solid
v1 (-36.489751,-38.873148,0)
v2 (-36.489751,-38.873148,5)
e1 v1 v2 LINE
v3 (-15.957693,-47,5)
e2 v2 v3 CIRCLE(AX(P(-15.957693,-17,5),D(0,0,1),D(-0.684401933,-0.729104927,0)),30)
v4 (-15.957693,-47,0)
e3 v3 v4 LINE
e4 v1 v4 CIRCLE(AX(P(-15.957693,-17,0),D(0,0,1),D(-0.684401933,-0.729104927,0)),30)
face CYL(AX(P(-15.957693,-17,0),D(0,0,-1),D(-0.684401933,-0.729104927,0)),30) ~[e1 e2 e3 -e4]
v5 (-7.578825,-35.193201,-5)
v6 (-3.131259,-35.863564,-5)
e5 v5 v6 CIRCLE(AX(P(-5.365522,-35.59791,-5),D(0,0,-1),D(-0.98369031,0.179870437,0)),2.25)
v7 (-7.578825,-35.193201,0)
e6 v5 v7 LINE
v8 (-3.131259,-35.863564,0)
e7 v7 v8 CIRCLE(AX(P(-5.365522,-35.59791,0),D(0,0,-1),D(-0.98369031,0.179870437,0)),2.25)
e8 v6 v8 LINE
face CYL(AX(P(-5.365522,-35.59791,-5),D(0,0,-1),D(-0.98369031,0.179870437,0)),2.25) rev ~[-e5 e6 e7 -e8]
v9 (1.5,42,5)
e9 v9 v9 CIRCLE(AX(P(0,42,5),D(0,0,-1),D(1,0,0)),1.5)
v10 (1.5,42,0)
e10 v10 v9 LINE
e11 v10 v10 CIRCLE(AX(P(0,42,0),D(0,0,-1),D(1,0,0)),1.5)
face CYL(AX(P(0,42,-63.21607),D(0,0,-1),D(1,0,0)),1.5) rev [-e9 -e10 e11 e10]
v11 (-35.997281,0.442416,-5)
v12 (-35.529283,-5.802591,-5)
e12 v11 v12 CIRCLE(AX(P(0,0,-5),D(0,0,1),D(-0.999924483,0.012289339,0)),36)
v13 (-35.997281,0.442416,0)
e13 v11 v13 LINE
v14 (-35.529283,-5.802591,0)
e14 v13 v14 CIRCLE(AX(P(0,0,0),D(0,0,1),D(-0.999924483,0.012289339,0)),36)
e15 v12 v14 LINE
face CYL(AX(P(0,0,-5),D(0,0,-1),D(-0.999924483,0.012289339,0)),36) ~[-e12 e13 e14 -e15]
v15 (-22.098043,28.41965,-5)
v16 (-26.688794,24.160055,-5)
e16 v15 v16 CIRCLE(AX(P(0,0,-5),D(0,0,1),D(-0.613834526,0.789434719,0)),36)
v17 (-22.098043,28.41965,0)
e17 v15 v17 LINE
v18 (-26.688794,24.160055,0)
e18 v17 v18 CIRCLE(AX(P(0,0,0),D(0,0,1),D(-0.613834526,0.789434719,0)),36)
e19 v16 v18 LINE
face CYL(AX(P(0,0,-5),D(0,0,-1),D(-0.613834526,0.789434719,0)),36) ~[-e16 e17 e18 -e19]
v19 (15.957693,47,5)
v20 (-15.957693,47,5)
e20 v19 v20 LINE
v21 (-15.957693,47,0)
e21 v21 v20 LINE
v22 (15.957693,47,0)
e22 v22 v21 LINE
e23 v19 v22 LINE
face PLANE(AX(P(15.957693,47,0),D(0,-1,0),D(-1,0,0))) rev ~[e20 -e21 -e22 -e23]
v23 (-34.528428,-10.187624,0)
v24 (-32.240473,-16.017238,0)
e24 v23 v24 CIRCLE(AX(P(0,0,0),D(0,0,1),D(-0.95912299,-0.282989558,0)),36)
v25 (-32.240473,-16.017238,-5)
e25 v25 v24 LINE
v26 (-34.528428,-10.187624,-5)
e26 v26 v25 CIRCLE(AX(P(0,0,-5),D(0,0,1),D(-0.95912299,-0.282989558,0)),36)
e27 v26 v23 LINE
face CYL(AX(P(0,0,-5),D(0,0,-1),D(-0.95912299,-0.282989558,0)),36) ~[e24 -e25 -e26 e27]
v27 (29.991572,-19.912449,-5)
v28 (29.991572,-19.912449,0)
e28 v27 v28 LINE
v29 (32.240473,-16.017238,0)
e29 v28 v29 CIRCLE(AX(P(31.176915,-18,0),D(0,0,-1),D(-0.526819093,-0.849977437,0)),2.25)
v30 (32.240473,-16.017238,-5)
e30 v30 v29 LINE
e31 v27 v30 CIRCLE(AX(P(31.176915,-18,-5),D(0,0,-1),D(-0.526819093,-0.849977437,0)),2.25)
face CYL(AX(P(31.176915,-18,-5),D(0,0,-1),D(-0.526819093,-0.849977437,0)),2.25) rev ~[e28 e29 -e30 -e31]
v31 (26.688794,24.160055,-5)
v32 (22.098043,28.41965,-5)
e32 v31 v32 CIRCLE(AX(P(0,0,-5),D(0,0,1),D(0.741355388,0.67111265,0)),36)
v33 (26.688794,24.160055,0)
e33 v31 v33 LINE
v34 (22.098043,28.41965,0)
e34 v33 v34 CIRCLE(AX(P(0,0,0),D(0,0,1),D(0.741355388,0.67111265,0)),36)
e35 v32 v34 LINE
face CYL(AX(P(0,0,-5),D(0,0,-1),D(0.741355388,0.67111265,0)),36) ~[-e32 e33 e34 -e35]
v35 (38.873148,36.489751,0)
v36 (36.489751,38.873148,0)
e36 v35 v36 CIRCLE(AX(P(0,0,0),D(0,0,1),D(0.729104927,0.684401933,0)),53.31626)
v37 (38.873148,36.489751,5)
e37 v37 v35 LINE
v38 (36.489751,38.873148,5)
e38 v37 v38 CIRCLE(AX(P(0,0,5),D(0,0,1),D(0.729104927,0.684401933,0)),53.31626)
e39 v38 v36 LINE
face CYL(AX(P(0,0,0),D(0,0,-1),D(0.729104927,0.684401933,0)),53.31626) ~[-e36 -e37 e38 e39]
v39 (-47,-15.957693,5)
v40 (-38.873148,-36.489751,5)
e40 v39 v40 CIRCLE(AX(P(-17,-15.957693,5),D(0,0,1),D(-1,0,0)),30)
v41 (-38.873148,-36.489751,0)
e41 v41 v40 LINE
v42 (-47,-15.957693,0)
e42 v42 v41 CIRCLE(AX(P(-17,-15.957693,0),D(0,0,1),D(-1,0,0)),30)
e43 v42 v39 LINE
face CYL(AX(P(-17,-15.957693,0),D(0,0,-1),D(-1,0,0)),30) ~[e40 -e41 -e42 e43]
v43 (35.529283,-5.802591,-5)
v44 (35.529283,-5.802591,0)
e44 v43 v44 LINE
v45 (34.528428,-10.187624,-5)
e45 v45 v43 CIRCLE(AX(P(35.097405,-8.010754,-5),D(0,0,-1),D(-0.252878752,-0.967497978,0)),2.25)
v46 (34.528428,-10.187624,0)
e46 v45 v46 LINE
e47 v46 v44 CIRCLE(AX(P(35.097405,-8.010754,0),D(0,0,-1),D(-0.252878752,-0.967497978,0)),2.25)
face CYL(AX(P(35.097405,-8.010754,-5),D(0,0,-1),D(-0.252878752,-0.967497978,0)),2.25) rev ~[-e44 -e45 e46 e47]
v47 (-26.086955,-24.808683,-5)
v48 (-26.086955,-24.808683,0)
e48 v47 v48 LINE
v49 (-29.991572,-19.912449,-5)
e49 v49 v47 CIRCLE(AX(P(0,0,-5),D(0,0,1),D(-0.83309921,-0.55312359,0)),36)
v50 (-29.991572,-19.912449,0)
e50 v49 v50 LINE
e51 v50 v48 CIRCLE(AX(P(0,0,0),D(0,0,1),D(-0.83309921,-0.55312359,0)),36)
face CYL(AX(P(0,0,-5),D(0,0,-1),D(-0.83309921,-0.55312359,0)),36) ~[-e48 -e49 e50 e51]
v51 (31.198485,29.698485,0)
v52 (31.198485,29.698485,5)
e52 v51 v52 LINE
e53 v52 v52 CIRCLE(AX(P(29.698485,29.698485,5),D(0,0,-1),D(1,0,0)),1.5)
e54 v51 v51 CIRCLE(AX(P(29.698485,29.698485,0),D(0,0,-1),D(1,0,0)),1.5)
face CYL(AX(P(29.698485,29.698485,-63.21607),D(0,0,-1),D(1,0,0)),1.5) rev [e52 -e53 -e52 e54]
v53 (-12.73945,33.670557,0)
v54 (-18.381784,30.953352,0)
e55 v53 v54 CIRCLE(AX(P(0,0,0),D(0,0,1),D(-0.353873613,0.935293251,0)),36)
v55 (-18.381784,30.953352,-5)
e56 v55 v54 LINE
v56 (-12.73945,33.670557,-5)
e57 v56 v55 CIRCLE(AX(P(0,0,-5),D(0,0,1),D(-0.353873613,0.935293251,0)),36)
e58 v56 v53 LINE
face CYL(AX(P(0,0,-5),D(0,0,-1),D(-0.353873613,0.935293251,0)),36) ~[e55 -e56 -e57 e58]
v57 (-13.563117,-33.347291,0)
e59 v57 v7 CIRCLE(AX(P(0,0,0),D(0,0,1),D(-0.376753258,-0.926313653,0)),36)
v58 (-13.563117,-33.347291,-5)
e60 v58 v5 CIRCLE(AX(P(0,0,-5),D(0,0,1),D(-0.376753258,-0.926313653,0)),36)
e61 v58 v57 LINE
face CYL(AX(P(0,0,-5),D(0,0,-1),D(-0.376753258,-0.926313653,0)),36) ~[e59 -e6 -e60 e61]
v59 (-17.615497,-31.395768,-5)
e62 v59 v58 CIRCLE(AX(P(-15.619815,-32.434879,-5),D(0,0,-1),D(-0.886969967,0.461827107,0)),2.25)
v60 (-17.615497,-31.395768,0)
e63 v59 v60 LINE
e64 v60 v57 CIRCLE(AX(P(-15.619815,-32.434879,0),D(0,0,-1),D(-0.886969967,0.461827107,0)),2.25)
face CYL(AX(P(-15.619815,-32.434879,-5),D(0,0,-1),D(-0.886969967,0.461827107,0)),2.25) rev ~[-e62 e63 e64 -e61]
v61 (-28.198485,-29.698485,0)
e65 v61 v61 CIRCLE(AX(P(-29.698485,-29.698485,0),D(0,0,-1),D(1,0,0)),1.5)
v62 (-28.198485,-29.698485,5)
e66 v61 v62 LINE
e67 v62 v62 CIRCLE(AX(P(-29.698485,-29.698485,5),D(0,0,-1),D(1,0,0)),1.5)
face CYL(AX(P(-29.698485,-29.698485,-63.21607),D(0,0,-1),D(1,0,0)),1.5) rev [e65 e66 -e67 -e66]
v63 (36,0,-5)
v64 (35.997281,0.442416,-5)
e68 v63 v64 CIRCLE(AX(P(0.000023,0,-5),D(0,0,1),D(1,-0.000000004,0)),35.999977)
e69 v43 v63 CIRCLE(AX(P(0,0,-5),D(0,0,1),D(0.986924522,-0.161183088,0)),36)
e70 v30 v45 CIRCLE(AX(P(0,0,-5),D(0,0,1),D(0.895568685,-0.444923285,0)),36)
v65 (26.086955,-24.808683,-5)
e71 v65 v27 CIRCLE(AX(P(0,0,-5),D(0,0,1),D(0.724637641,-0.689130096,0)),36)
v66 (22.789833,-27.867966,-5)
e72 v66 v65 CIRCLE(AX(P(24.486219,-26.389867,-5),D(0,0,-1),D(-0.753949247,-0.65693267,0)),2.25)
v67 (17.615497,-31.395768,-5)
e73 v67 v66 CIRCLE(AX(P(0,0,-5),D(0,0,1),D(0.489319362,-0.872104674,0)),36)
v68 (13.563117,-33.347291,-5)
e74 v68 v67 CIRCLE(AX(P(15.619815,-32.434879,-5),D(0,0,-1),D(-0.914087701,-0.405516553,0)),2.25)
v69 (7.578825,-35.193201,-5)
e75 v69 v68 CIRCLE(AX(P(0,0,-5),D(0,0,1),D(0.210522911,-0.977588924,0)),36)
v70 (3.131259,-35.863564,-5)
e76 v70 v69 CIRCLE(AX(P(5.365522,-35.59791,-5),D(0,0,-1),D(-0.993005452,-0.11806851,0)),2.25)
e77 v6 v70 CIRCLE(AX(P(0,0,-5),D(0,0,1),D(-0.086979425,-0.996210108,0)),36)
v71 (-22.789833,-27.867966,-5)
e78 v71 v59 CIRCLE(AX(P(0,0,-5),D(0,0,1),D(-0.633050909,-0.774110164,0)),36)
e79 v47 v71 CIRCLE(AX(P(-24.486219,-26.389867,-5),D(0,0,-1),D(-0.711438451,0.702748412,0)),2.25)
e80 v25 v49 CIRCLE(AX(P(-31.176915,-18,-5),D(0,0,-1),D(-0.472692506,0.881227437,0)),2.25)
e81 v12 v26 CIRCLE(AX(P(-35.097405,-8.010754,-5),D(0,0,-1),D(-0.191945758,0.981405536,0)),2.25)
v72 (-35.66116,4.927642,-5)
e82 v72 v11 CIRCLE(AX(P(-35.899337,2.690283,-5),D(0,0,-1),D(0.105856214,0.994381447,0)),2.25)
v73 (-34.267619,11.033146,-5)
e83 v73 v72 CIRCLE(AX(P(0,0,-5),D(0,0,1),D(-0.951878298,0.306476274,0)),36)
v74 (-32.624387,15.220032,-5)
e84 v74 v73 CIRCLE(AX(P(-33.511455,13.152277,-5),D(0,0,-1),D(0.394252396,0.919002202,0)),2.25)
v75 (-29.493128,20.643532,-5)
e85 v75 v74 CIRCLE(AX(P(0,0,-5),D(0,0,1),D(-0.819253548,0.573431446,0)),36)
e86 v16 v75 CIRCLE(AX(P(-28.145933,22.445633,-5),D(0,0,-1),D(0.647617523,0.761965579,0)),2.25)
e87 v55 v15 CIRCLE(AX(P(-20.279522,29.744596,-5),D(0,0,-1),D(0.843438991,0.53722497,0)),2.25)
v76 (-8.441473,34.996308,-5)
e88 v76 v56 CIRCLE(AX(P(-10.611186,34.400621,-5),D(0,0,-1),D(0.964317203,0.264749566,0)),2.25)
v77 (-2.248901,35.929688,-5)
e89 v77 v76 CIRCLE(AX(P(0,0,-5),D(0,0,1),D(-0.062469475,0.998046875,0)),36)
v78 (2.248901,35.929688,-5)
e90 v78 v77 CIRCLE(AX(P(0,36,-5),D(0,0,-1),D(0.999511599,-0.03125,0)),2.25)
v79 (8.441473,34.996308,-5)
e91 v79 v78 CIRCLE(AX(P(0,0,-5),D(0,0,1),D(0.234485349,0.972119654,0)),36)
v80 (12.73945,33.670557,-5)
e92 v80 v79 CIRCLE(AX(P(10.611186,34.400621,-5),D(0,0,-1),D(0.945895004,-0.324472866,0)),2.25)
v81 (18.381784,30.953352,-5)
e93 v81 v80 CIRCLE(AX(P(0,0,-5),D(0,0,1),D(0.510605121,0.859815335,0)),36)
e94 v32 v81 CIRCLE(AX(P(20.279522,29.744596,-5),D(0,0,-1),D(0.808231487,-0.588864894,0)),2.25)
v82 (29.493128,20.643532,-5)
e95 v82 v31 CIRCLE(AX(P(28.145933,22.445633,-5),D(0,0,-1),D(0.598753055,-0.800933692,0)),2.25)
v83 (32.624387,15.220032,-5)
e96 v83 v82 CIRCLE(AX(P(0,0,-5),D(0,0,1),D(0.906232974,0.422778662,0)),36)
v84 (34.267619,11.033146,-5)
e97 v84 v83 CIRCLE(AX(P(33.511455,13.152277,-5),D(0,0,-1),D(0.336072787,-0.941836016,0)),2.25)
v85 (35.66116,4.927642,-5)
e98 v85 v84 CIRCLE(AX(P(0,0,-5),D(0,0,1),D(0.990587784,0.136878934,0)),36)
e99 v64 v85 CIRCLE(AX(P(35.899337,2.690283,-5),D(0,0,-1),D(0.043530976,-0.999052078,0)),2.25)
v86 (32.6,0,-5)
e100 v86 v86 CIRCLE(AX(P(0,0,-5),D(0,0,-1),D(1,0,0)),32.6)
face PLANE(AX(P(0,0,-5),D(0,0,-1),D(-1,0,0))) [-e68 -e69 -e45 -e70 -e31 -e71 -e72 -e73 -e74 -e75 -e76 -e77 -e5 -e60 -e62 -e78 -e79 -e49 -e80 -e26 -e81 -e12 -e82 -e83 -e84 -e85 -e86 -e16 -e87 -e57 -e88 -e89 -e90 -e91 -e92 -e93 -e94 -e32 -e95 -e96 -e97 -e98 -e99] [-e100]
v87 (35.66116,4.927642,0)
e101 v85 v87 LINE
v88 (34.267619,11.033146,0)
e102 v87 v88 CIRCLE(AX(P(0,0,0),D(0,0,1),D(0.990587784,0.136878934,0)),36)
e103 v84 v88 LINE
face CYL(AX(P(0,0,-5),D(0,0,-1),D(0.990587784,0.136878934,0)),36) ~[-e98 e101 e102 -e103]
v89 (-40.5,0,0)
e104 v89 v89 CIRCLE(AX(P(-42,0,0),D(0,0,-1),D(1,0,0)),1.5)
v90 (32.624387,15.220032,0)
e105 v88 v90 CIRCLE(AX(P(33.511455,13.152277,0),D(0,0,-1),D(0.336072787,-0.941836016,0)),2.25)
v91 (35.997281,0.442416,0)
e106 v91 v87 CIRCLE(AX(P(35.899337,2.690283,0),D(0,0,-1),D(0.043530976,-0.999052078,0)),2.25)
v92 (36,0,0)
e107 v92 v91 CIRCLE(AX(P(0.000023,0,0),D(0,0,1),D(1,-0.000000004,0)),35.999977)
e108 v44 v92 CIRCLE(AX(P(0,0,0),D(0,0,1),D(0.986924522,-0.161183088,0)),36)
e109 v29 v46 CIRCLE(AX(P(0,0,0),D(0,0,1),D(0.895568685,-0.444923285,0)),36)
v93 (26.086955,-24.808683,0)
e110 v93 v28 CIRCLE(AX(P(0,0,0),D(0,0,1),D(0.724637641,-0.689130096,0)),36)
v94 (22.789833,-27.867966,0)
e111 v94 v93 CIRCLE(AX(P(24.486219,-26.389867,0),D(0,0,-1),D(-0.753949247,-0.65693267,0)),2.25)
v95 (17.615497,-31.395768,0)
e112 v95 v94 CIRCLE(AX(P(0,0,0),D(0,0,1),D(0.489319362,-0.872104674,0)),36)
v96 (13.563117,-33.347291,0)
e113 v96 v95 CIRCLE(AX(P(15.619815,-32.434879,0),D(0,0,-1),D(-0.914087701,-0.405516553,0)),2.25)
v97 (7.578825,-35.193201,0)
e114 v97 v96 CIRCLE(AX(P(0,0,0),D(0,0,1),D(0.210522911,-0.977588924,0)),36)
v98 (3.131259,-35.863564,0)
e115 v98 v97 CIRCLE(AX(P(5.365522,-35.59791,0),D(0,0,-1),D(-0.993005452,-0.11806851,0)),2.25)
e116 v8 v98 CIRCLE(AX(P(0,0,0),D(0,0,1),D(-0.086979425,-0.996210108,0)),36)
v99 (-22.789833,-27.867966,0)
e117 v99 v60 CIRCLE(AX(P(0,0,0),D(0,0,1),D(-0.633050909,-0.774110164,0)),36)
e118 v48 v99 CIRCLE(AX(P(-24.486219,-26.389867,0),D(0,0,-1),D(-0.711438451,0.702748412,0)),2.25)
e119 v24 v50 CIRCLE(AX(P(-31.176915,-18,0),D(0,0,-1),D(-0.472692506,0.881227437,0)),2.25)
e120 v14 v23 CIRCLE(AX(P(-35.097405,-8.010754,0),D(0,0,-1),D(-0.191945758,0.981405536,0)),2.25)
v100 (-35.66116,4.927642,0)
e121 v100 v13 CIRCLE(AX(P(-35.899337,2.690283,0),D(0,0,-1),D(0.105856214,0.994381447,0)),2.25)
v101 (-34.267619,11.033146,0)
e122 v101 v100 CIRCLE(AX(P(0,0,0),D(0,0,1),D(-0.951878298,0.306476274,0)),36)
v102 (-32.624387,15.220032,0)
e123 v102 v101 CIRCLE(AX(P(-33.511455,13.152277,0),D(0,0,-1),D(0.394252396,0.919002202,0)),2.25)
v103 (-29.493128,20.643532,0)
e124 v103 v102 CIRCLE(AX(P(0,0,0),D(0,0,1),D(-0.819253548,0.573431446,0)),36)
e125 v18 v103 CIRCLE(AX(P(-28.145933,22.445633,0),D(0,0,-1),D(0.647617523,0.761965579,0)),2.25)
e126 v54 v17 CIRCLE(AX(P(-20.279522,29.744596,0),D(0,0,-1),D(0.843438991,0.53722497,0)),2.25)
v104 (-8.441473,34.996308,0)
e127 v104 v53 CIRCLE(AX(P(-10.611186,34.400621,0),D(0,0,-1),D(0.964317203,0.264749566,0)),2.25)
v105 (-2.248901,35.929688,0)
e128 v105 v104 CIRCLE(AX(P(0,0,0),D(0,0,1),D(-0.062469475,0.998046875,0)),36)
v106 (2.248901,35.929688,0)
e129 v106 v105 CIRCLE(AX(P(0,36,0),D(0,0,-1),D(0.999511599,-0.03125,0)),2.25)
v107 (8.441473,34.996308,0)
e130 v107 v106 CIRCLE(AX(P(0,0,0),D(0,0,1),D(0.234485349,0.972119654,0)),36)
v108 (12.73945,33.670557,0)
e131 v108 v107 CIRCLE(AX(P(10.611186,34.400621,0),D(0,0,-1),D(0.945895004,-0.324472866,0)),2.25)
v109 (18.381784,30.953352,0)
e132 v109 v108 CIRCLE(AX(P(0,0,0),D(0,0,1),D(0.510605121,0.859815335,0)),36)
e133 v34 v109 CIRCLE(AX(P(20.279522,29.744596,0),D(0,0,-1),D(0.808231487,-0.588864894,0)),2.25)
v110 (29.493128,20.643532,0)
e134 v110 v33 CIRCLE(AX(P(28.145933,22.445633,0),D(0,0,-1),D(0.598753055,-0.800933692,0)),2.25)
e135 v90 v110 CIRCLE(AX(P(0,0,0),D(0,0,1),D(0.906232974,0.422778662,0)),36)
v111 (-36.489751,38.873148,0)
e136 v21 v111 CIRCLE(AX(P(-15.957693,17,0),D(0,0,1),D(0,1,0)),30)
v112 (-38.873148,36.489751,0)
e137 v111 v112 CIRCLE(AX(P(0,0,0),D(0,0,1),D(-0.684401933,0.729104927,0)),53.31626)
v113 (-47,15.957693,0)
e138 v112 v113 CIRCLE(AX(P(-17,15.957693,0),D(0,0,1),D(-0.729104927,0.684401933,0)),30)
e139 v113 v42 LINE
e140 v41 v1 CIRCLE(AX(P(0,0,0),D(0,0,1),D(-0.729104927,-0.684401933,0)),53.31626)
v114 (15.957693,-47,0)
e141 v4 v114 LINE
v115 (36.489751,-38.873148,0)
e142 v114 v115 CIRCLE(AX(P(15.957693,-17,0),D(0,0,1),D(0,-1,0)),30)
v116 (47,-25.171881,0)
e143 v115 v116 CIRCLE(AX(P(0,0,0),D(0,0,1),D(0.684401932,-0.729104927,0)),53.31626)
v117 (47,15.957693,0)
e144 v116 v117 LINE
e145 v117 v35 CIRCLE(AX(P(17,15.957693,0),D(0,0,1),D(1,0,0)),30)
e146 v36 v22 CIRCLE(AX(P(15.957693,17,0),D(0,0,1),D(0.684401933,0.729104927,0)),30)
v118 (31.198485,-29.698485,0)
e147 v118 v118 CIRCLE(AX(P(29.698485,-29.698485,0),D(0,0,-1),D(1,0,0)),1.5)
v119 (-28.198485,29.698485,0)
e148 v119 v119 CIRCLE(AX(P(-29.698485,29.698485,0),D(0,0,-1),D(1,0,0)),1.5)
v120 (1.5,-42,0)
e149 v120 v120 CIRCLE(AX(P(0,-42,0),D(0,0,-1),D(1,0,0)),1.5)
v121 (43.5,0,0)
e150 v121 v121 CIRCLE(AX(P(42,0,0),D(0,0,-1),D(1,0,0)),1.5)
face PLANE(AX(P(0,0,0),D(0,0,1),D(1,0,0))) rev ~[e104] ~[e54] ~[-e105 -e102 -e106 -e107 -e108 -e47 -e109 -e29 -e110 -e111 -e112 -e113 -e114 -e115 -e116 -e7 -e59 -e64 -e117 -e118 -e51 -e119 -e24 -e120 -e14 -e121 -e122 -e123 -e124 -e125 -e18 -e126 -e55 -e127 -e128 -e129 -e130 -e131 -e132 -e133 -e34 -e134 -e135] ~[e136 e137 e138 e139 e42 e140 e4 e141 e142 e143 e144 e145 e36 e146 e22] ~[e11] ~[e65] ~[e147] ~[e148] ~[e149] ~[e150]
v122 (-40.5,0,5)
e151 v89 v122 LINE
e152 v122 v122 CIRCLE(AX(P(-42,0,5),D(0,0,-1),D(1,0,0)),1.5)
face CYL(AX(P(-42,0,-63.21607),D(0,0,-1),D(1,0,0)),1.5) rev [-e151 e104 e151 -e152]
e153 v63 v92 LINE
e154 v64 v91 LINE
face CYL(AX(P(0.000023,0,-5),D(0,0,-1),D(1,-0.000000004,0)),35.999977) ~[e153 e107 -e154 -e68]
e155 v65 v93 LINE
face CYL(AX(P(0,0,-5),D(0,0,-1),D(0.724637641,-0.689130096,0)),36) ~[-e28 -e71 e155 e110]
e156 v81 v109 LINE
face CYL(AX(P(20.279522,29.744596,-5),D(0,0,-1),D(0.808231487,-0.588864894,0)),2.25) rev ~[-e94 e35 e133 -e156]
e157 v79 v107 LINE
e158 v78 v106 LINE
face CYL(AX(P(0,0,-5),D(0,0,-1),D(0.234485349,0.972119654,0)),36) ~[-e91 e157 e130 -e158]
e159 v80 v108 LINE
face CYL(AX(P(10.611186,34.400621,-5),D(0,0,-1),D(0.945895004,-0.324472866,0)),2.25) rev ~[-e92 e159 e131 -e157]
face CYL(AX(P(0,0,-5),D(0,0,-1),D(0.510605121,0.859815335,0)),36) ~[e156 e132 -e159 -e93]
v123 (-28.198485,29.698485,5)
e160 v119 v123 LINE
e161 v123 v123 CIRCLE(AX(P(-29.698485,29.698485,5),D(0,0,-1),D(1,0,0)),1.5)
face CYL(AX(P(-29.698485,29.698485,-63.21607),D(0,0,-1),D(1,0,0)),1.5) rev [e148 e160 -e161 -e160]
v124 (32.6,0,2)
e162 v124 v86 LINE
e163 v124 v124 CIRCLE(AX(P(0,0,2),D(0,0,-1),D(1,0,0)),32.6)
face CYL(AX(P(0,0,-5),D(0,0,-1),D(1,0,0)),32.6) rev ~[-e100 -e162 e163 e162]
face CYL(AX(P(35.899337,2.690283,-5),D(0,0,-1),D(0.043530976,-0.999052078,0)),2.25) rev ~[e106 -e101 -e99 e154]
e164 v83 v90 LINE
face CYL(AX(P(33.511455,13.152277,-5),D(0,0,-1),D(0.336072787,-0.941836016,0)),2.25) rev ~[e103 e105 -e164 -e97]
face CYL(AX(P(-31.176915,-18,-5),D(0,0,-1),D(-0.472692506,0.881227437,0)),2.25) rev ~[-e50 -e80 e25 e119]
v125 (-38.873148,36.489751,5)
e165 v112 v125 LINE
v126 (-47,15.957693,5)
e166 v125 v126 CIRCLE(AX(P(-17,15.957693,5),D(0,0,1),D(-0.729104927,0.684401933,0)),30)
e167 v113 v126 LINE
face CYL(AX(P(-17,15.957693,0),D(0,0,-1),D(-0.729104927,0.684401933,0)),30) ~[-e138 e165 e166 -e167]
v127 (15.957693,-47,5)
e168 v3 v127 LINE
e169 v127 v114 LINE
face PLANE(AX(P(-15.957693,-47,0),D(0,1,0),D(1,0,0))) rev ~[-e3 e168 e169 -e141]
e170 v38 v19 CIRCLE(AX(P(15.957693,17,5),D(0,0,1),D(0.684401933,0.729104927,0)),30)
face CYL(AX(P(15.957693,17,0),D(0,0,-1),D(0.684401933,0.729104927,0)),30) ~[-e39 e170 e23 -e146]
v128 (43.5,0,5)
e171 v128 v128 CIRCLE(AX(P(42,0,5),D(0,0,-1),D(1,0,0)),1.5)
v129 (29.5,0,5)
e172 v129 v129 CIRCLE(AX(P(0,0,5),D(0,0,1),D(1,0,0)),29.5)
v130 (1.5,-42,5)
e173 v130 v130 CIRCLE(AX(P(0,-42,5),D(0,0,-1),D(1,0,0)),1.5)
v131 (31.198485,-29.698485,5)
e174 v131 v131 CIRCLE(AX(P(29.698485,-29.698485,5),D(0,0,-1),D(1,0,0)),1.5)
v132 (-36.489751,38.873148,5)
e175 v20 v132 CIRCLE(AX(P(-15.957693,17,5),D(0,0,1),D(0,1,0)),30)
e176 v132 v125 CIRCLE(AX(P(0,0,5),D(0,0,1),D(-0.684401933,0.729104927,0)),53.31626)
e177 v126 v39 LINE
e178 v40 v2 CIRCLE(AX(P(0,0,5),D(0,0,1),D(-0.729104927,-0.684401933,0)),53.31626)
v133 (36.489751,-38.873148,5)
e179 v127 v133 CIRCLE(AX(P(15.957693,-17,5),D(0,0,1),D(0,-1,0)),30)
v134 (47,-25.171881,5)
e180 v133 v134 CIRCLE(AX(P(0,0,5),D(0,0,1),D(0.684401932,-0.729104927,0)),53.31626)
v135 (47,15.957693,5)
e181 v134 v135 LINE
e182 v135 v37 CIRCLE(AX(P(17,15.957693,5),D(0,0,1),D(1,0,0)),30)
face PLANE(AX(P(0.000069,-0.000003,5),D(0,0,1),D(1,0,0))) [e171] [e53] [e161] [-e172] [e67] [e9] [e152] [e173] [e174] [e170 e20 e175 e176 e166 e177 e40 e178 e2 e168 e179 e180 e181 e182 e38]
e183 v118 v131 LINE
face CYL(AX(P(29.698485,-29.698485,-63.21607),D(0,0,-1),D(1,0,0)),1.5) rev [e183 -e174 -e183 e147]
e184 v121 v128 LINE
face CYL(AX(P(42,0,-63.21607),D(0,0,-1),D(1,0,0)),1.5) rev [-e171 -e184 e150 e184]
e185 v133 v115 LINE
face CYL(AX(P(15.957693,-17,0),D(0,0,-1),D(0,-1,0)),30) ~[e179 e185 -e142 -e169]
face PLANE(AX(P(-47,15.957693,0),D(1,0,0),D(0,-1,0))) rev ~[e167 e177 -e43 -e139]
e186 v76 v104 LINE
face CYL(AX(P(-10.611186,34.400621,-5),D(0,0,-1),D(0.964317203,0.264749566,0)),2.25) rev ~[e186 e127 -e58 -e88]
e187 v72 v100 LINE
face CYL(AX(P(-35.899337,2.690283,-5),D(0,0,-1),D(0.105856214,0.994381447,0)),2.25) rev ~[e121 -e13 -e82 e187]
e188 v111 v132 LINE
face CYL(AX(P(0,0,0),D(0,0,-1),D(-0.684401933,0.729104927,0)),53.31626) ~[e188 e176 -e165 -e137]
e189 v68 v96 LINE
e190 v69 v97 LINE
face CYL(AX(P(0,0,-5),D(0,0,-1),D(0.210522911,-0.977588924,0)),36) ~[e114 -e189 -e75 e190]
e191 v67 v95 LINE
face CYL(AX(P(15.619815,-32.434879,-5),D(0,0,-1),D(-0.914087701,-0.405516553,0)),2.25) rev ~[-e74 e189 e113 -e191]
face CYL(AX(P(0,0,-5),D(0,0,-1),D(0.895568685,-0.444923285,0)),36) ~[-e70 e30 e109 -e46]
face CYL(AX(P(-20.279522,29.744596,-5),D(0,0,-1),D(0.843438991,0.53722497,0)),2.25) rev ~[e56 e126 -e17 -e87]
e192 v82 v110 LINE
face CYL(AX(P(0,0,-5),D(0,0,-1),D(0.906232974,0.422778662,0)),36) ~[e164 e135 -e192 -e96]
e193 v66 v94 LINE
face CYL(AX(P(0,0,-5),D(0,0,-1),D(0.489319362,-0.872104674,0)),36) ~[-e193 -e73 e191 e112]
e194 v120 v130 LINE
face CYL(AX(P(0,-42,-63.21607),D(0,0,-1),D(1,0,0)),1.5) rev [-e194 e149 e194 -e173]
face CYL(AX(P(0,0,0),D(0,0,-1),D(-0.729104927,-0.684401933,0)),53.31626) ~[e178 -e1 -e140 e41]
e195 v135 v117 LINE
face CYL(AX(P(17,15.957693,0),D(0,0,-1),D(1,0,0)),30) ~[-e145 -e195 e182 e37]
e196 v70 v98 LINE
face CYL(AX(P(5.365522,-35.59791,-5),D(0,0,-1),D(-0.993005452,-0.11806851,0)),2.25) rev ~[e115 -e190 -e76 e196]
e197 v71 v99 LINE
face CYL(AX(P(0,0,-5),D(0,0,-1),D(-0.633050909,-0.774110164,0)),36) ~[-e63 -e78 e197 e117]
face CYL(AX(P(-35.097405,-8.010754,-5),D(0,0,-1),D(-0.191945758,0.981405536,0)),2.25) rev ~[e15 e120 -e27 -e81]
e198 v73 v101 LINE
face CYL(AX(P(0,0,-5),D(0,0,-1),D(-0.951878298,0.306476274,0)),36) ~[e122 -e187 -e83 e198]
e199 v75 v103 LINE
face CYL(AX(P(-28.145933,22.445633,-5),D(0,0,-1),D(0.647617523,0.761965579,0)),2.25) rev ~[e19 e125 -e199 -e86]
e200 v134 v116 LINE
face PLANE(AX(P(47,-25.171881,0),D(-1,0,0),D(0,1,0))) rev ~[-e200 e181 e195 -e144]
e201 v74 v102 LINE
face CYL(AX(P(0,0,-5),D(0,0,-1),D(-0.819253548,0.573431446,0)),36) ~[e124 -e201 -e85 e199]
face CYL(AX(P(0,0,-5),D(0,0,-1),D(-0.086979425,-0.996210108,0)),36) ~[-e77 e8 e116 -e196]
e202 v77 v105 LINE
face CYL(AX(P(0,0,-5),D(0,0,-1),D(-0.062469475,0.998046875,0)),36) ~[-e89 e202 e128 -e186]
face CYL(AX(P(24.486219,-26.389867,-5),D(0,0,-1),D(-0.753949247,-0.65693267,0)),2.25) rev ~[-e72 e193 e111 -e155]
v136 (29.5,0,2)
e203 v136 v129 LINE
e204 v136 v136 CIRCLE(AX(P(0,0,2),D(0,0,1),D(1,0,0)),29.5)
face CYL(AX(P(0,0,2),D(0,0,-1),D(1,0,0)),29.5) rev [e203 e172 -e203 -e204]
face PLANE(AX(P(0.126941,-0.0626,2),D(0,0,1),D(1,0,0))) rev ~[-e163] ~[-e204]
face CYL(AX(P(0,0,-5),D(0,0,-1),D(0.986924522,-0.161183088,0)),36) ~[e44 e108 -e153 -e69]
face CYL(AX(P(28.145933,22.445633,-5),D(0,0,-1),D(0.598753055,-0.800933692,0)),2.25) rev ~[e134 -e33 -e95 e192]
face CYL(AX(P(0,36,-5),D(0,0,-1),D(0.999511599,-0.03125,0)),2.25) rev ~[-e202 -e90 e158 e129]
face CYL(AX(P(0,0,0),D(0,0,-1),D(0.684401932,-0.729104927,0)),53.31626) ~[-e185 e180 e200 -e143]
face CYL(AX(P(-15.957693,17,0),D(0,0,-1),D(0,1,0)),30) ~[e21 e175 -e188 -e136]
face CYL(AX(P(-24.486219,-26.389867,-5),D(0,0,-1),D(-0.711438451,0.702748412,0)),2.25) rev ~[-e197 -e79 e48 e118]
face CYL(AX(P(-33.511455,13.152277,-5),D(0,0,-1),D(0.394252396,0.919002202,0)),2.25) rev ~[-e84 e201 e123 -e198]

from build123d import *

# Parameters (mm, degrees)
SKETCH1_R               = 36
BOSS_EXTRUDE1_DEPTH     = 5
BOSS_EXTRUDE2_START     = -5
BOSS_EXTRUDE2_DEPTH     = 5
BOSS_EXTRUDE3_START     = -5
BOSS_EXTRUDE3_DEPTH     = 5
BOSS_EXTRUDE4_START     = 5
SKETCH3_R               = 32.7
SKETCH3_R_2             = 32.6
BOSS_EXTRUDE4_DEPTH     = 5
CUT_EXTRUDE1_DEPTH      = 68.216069507
CUT_EXTRUDE1_DEPTH_BACK = 68.216069507
SKETCH4_R               = 32.6
BOSS_EXTRUDE5_START     = -3
SKETCH5_R               = 29.5
BOSS_EXTRUDE5_DEPTH     = 3
CUT_EXTRUDE3_DEPTH      = 68.216069507
CUT_EXTRUDE3_DEPTH_BACK = 68.216069507
SKETCH6_R               = 1.5


with BuildPart() as part:
    # Sketch1 → Boss-Extrude1 (new body)
    # profile 1 of 3: a face of its own
    with BuildSketch(Plane.XY):
        with BuildLine():
            Line((15.957693357, 47), (-15.957693357, 47))
            ThreePointArc((-15.957693357, 47), (-26.99865268, 44.894394011), (-36.489751331, 38.873147815))
            ThreePointArc((-36.489751331, 38.873147815), (-37.700288946, 37.700288946), (-38.873147815, 36.489751331))
            ThreePointArc((-38.873147815, 36.489751331), (-44.894394011, 26.99865268), (-47, 15.957693357))
            Line((-47, 15.957693357), (-47, -15.957693357))
            ThreePointArc((-47, -15.957693357), (-44.894394011, -26.99865268), (-38.873147815, -36.489751331))
            ThreePointArc((-38.873147815, -36.489751331), (-37.700288946, -37.700288946), (-36.489751331, -38.873147815))
            ThreePointArc((-36.489751331, -38.873147815), (-26.99865268, -44.894394011), (-15.957693357, -47))
            Line((-15.957693357, -47), (15.957693357, -47))
            ThreePointArc((15.957693357, -47), (26.99865268, -44.894394011), (36.489751331, -38.873147815))
            ThreePointArc((36.489751331, -38.873147815), (42.303260219, -32.45085127), (47, -25.171880606))
            Line((47, -25.171880606), (47, 15.957693357))
            ThreePointArc((47, 15.957693357), (44.894394011, 26.99865268), (38.873147815, 36.489751331))
            ThreePointArc((38.873147815, 36.489751331), (37.700288946, 37.700288946), (36.489751331, 38.873147815))
            ThreePointArc((36.489751331, 38.873147815), (26.99865268, 44.894394011), (15.957693357, 47))
        make_face()
        Circle(SKETCH1_R, mode=Mode.SUBTRACT)
    # profile 2 of 3: a face of its own
    with BuildSketch(Plane.XY):
        with BuildLine():
            ThreePointArc((35.529282793, -5.802591166), (35.882127728, -2.910826297), (36, 0))
            ThreePointArc((36, 0), (35.999320343, 0.221212273), (35.997281396, 0.442416194))
            ThreePointArc((35.997281396, 0.442416194), (33.655628155, 2.522140659), (35.661160217, 4.927641625))
            ThreePointArc((35.661160217, 4.927641625), (35.097404839, 8.010753622), (34.267618722, 11.03314584))
            ThreePointArc((34.267618722, 11.03314584), (31.416989017, 12.330259572), (32.62438706, 15.220031833))
            ThreePointArc((32.62438706, 15.220031833), (31.176914536, 18), (29.493127743, 20.64353206))
            ThreePointArc((29.493127743, 20.64353206), (26.386812533, 21.042780813), (26.688793942, 24.16005542))
            ThreePointArc((26.688793942, 24.16005542), (24.48621856, 26.389867386), (22.098042936, 28.419649864))
            ThreePointArc((22.098042936, 28.419649864), (19.01205196, 27.885558633), (18.381784361, 30.953352059))
            ThreePointArc((18.381784361, 30.953352059), (15.619814608, 32.434879244), (12.739450039, 33.67055706))
            ThreePointArc((12.739450039, 33.67055706), (9.947987136, 32.250582195), (8.441472573, 34.996307531))
            ThreePointArc((8.441472573, 34.996307531), (5.365521582, 35.597909744), (2.248901099, 35.9296875))
            ThreePointArc((2.248901099, 35.9296875), (0, 33.75), (-2.248901099, 35.9296875))
            ThreePointArc((-2.248901099, 35.9296875), (-5.365521582, 35.597909744), (-8.441472573, 34.996307531))
            ThreePointArc((-8.441472573, 34.996307531), (-9.947987136, 32.250582195), (-12.739450039, 33.67055706))
            ThreePointArc((-12.739450039, 33.67055706), (-15.619814608, 32.434879244), (-18.381784361, 30.953352059))
            ThreePointArc((-18.381784361, 30.953352059), (-19.01205196, 27.885558633), (-22.098042936, 28.419649864))
            ThreePointArc((-22.098042936, 28.419649864), (-24.48621856, 26.389867386), (-26.688793942, 24.16005542))
            ThreePointArc((-26.688793942, 24.16005542), (-26.386812533, 21.042780813), (-29.493127743, 20.64353206))
            ThreePointArc((-29.493127743, 20.64353206), (-31.176914536, 18), (-32.62438706, 15.220031833))
            ThreePointArc((-32.62438706, 15.220031833), (-31.416989017, 12.330259572), (-34.267618722, 11.03314584))
            ThreePointArc((-34.267618722, 11.03314584), (-35.097404839, 8.010753622), (-35.661160217, 4.927641625))
            ThreePointArc((-35.661160217, 4.927641625), (-33.655628155, 2.522140659), (-35.997281396, 0.442416194))
            ThreePointArc((-35.997281396, 0.442416194), (-35.899336699, -2.690283369), (-35.529282793, -5.802591166))
            ThreePointArc((-35.529282793, -5.802591166), (-32.903817036, -7.510081521), (-34.528427647, -10.187624072))
            ThreePointArc((-34.528427647, -10.187624072), (-33.511454951, -13.152276877), (-32.240472674, -16.017238268))
            ThreePointArc((-32.240472674, -16.017238268), (-29.228357378, -16.875), (-29.991571576, -19.912449232))
            ThreePointArc((-29.991571576, -19.912449232), (-28.145933369, -22.445632867), (-26.086955074, -24.808683459))
            ThreePointArc((-26.086955074, -24.808683459), (-22.9558299, -24.740500674), (-22.789832754, -27.867965894))
            ThreePointArc((-22.789832754, -27.867965894), (-20.27952209, -29.744595875), (-17.615497035, -31.395768253))
            ThreePointArc((-17.615497035, -31.395768253), (-14.643576195, -30.407699292), (-13.563117281, -33.347291489))
            ThreePointArc((-13.563117281, -33.347291489), (-10.611186279, -34.400621008), (-7.57882478, -35.19320126))
            ThreePointArc((-7.57882478, -35.19320126), (-5.030176483, -33.373040385), (-3.131259316, -35.863563893))
            ThreePointArc((-3.131259316, -35.863563893), (0, -36), (3.131259316, -35.863563893))
            ThreePointArc((3.131259316, -35.863563893), (5.030176483, -33.373040385), (7.57882478, -35.19320126))
            ThreePointArc((7.57882478, -35.19320126), (10.611186279, -34.400621008), (13.563117281, -33.347291489))
            ThreePointArc((13.563117281, -33.347291489), (14.643576195, -30.407699292), (17.615497035, -31.395768253))
            ThreePointArc((17.615497035, -31.395768253), (20.27952209, -29.744595875), (22.789832754, -27.867965894))
            ThreePointArc((22.789832754, -27.867965894), (22.9558299, -24.740500674), (26.086955074, -24.808683459))
            ThreePointArc((26.086955074, -24.808683459), (28.145933369, -22.445632867), (29.991571576, -19.912449232))
            ThreePointArc((29.991571576, -19.912449232), (29.228357378, -16.875), (32.240472674, -16.017238268))
            ThreePointArc((32.240472674, -16.017238268), (33.511454951, -13.152276877), (34.528427647, -10.187624072))
            ThreePointArc((34.528427647, -10.187624072), (32.903817036, -7.510081521), (35.529282793, -5.802591166))
        make_face()
        with BuildLine():
            ThreePointArc((-32.7, 0), (0, 32.7), (32.7, 0))
            ThreePointArc((32.7, 0), (0, -32.7), (-32.7, 0))
        make_face(mode=Mode.SUBTRACT)
    # profile 3 of 3: a face of its own
    with BuildSketch(Plane.XY):
        with BuildLine():
            ThreePointArc((32.7, 0), (0, 32.7), (-32.7, 0))
            ThreePointArc((-32.7, 0), (0, -32.7), (32.7, 0))
        make_face()
    extrude(amount=BOSS_EXTRUDE1_DEPTH)

    # Sketch1<4> → Boss-Extrude2 (add)
    with BuildSketch(Plane.XY.offset(BOSS_EXTRUDE2_START)):
        with BuildLine():
            ThreePointArc((35.529282793, -5.802591166), (35.882127728, -2.910826297), (36, 0))
            ThreePointArc((36, 0), (35.999320343, 0.221212273), (35.997281396, 0.442416194))
            ThreePointArc((35.997281396, 0.442416194), (33.655628155, 2.522140659), (35.661160217, 4.927641625))
            ThreePointArc((35.661160217, 4.927641625), (35.097404839, 8.010753622), (34.267618722, 11.03314584))
            ThreePointArc((34.267618722, 11.03314584), (31.416989017, 12.330259572), (32.62438706, 15.220031833))
            ThreePointArc((32.62438706, 15.220031833), (31.176914536, 18), (29.493127743, 20.64353206))
            ThreePointArc((29.493127743, 20.64353206), (26.386812533, 21.042780813), (26.688793942, 24.16005542))
            ThreePointArc((26.688793942, 24.16005542), (24.48621856, 26.389867386), (22.098042936, 28.419649864))
            ThreePointArc((22.098042936, 28.419649864), (19.01205196, 27.885558633), (18.381784361, 30.953352059))
            ThreePointArc((18.381784361, 30.953352059), (15.619814608, 32.434879244), (12.739450039, 33.67055706))
            ThreePointArc((12.739450039, 33.67055706), (9.947987136, 32.250582195), (8.441472573, 34.996307531))
            ThreePointArc((8.441472573, 34.996307531), (5.365521582, 35.597909744), (2.248901099, 35.9296875))
            ThreePointArc((2.248901099, 35.9296875), (0, 33.75), (-2.248901099, 35.9296875))
            ThreePointArc((-2.248901099, 35.9296875), (-5.365521582, 35.597909744), (-8.441472573, 34.996307531))
            ThreePointArc((-8.441472573, 34.996307531), (-9.947987136, 32.250582195), (-12.739450039, 33.67055706))
            ThreePointArc((-12.739450039, 33.67055706), (-15.619814608, 32.434879244), (-18.381784361, 30.953352059))
            ThreePointArc((-18.381784361, 30.953352059), (-19.01205196, 27.885558633), (-22.098042936, 28.419649864))
            ThreePointArc((-22.098042936, 28.419649864), (-24.48621856, 26.389867386), (-26.688793942, 24.16005542))
            ThreePointArc((-26.688793942, 24.16005542), (-26.386812533, 21.042780813), (-29.493127743, 20.64353206))
            ThreePointArc((-29.493127743, 20.64353206), (-31.176914536, 18), (-32.62438706, 15.220031833))
            ThreePointArc((-32.62438706, 15.220031833), (-31.416989017, 12.330259572), (-34.267618722, 11.03314584))
            ThreePointArc((-34.267618722, 11.03314584), (-35.097404839, 8.010753622), (-35.661160217, 4.927641625))
            ThreePointArc((-35.661160217, 4.927641625), (-33.655628155, 2.522140659), (-35.997281396, 0.442416194))
            ThreePointArc((-35.997281396, 0.442416194), (-35.899336699, -2.690283369), (-35.529282793, -5.802591166))
            ThreePointArc((-35.529282793, -5.802591166), (-32.903817036, -7.510081521), (-34.528427647, -10.187624072))
            ThreePointArc((-34.528427647, -10.187624072), (-33.511454951, -13.152276877), (-32.240472674, -16.017238268))
            ThreePointArc((-32.240472674, -16.017238268), (-29.228357378, -16.875), (-29.991571576, -19.912449232))
            ThreePointArc((-29.991571576, -19.912449232), (-28.145933369, -22.445632867), (-26.086955074, -24.808683459))
            ThreePointArc((-26.086955074, -24.808683459), (-22.9558299, -24.740500674), (-22.789832754, -27.867965894))
            ThreePointArc((-22.789832754, -27.867965894), (-20.27952209, -29.744595875), (-17.615497035, -31.395768253))
            ThreePointArc((-17.615497035, -31.395768253), (-14.643576195, -30.407699292), (-13.563117281, -33.347291489))
            ThreePointArc((-13.563117281, -33.347291489), (-10.611186279, -34.400621008), (-7.57882478, -35.19320126))
            ThreePointArc((-7.57882478, -35.19320126), (-5.030176483, -33.373040385), (-3.131259316, -35.863563893))
            ThreePointArc((-3.131259316, -35.863563893), (0, -36), (3.131259316, -35.863563893))
            ThreePointArc((3.131259316, -35.863563893), (5.030176483, -33.373040385), (7.57882478, -35.19320126))
            ThreePointArc((7.57882478, -35.19320126), (10.611186279, -34.400621008), (13.563117281, -33.347291489))
            ThreePointArc((13.563117281, -33.347291489), (14.643576195, -30.407699292), (17.615497035, -31.395768253))
            ThreePointArc((17.615497035, -31.395768253), (20.27952209, -29.744595875), (22.789832754, -27.867965894))
            ThreePointArc((22.789832754, -27.867965894), (22.9558299, -24.740500674), (26.086955074, -24.808683459))
            ThreePointArc((26.086955074, -24.808683459), (28.145933369, -22.445632867), (29.991571576, -19.912449232))
            ThreePointArc((29.991571576, -19.912449232), (29.228357378, -16.875), (32.240472674, -16.017238268))
            ThreePointArc((32.240472674, -16.017238268), (33.511454951, -13.152276877), (34.528427647, -10.187624072))
            ThreePointArc((34.528427647, -10.187624072), (32.903817036, -7.510081521), (35.529282793, -5.802591166))
        make_face()
        with BuildLine():
            ThreePointArc((-32.7, 0), (0, 32.7), (32.7, 0))
            ThreePointArc((32.7, 0), (0, -32.7), (-32.7, 0))
        make_face(mode=Mode.SUBTRACT)
    extrude(amount=BOSS_EXTRUDE2_DEPTH)

    # Sketch2 → Boss-Extrude3 (add)
    with BuildSketch(Plane.XY.offset(5).offset(BOSS_EXTRUDE3_START)):
        with BuildLine():
            Line((15.957693357, 47), (-15.957693357, 47))
            ThreePointArc((-15.957693357, 47), (-26.99865268, 44.894394011), (-36.489751331, 38.873147815))
            ThreePointArc((-36.489751331, 38.873147815), (-37.700288946, 37.700288946), (-38.873147815, 36.489751331))
            ThreePointArc((-38.873147815, 36.489751331), (-44.894394011, 26.99865268), (-47, 15.957693357))
            Line((-47, 15.957693357), (-47, -15.957693357))
            ThreePointArc((-47, -15.957693357), (-44.894394011, -26.99865268), (-38.873147815, -36.489751331))
            ThreePointArc((-38.873147815, -36.489751331), (-37.700288946, -37.700288946), (-36.489751331, -38.873147815))
            ThreePointArc((-36.489751331, -38.873147815), (-26.99865268, -44.894394011), (-15.957693357, -47))
            Line((-15.957693357, -47), (15.957693357, -47))
            ThreePointArc((15.957693357, -47), (26.99865268, -44.894394011), (36.489751331, -38.873147815))
            ThreePointArc((36.489751331, -38.873147815), (42.303260219, -32.45085127), (47, -25.171880606))
            Line((47, -25.171880606), (47, 15.957693357))
            ThreePointArc((47, 15.957693357), (44.894394011, 26.99865268), (38.873147815, 36.489751331))
            ThreePointArc((38.873147815, 36.489751331), (37.700288946, 37.700288946), (36.489751331, 38.873147815))
            ThreePointArc((36.489751331, 38.873147815), (26.99865268, 44.894394011), (15.957693357, 47))
        make_face()
    extrude(amount=BOSS_EXTRUDE3_DEPTH)

    # Sketch3 → Boss-Extrude4 (add)
    with BuildSketch(Plane(origin=(0, 0, 0), x_dir=(-1, 0, 0), z_dir=(0, 0, -1)).offset(BOSS_EXTRUDE4_START)):
        Circle(SKETCH3_R)
        with Locations(Location((0, 0, 0), (0, 0, 180))):
            Circle(SKETCH3_R_2, mode=Mode.SUBTRACT)
    extrude(amount=-BOSS_EXTRUDE4_DEPTH)

    # Sketch4 → Cut-Extrude1 (cut, two sides: drawn at the far end of the back side and taken through both)
    with BuildSketch(Plane.XY.offset(5).offset(-CUT_EXTRUDE1_DEPTH_BACK)):
        Circle(SKETCH4_R)
    extrude(amount=CUT_EXTRUDE1_DEPTH + CUT_EXTRUDE1_DEPTH_BACK, mode=Mode.SUBTRACT)

    # Sketch5 → Boss-Extrude5 (add)
    with BuildSketch(Plane.XY.offset(5).offset(BOSS_EXTRUDE5_START)):
        with BuildLine():
            Line((15.957693357, 47), (-15.957693357, 47))
            ThreePointArc((-15.957693357, 47), (-26.99865268, 44.894394011), (-36.489751331, 38.873147815))
            ThreePointArc((-36.489751331, 38.873147815), (-37.700288946, 37.700288946), (-38.873147815, 36.489751331))
            ThreePointArc((-38.873147815, 36.489751331), (-44.894394011, 26.99865268), (-47, 15.957693357))
            Line((-47, 15.957693357), (-47, -15.957693357))
            ThreePointArc((-47, -15.957693357), (-44.894394011, -26.99865268), (-38.873147815, -36.489751331))
            ThreePointArc((-38.873147815, -36.489751331), (-37.700288946, -37.700288946), (-36.489751331, -38.873147815))
            ThreePointArc((-36.489751331, -38.873147815), (-26.99865268, -44.894394011), (-15.957693357, -47))
            Line((-15.957693357, -47), (15.957693357, -47))
            ThreePointArc((15.957693357, -47), (26.99865268, -44.894394011), (36.489751331, -38.873147815))
            ThreePointArc((36.489751331, -38.873147815), (42.303260219, -32.45085127), (47, -25.171880606))
            Line((47, -25.171880606), (47, 15.957693357))
            ThreePointArc((47, 15.957693357), (44.894394011, 26.99865268), (38.873147815, 36.489751331))
            ThreePointArc((38.873147815, 36.489751331), (37.700288946, 37.700288946), (36.489751331, 38.873147815))
            ThreePointArc((36.489751331, 38.873147815), (26.99865268, 44.894394011), (15.957693357, 47))
        make_face()
        Circle(SKETCH5_R, mode=Mode.SUBTRACT)
    extrude(amount=BOSS_EXTRUDE5_DEPTH)

    # Sketch6 → Cut-Extrude3 (cut, two sides: drawn at the far end of the back side and taken through both)
    with BuildSketch(Plane.XY.offset(5).offset(-CUT_EXTRUDE3_DEPTH_BACK)):
        with Locations((42, 0)):
            Circle(SKETCH6_R)
        with Locations((29.69848481, -29.69848481)):
            Circle(SKETCH6_R)
        with Locations((0, -42)):
            Circle(SKETCH6_R)
        with Locations((-29.69848481, -29.69848481)):
            Circle(SKETCH6_R)
        with Locations((-42, 0)):
            Circle(SKETCH6_R)
        with Locations((-29.69848481, 29.69848481)):
            Circle(SKETCH6_R)
        with Locations((0, 42)):
            Circle(SKETCH6_R)
        with Locations((29.69848481, 29.69848481)):
            Circle(SKETCH6_R)
    extrude(amount=CUT_EXTRUDE3_DEPTH + CUT_EXTRUDE3_DEPTH_BACK, mode=Mode.SUBTRACT)


solid = part.part
